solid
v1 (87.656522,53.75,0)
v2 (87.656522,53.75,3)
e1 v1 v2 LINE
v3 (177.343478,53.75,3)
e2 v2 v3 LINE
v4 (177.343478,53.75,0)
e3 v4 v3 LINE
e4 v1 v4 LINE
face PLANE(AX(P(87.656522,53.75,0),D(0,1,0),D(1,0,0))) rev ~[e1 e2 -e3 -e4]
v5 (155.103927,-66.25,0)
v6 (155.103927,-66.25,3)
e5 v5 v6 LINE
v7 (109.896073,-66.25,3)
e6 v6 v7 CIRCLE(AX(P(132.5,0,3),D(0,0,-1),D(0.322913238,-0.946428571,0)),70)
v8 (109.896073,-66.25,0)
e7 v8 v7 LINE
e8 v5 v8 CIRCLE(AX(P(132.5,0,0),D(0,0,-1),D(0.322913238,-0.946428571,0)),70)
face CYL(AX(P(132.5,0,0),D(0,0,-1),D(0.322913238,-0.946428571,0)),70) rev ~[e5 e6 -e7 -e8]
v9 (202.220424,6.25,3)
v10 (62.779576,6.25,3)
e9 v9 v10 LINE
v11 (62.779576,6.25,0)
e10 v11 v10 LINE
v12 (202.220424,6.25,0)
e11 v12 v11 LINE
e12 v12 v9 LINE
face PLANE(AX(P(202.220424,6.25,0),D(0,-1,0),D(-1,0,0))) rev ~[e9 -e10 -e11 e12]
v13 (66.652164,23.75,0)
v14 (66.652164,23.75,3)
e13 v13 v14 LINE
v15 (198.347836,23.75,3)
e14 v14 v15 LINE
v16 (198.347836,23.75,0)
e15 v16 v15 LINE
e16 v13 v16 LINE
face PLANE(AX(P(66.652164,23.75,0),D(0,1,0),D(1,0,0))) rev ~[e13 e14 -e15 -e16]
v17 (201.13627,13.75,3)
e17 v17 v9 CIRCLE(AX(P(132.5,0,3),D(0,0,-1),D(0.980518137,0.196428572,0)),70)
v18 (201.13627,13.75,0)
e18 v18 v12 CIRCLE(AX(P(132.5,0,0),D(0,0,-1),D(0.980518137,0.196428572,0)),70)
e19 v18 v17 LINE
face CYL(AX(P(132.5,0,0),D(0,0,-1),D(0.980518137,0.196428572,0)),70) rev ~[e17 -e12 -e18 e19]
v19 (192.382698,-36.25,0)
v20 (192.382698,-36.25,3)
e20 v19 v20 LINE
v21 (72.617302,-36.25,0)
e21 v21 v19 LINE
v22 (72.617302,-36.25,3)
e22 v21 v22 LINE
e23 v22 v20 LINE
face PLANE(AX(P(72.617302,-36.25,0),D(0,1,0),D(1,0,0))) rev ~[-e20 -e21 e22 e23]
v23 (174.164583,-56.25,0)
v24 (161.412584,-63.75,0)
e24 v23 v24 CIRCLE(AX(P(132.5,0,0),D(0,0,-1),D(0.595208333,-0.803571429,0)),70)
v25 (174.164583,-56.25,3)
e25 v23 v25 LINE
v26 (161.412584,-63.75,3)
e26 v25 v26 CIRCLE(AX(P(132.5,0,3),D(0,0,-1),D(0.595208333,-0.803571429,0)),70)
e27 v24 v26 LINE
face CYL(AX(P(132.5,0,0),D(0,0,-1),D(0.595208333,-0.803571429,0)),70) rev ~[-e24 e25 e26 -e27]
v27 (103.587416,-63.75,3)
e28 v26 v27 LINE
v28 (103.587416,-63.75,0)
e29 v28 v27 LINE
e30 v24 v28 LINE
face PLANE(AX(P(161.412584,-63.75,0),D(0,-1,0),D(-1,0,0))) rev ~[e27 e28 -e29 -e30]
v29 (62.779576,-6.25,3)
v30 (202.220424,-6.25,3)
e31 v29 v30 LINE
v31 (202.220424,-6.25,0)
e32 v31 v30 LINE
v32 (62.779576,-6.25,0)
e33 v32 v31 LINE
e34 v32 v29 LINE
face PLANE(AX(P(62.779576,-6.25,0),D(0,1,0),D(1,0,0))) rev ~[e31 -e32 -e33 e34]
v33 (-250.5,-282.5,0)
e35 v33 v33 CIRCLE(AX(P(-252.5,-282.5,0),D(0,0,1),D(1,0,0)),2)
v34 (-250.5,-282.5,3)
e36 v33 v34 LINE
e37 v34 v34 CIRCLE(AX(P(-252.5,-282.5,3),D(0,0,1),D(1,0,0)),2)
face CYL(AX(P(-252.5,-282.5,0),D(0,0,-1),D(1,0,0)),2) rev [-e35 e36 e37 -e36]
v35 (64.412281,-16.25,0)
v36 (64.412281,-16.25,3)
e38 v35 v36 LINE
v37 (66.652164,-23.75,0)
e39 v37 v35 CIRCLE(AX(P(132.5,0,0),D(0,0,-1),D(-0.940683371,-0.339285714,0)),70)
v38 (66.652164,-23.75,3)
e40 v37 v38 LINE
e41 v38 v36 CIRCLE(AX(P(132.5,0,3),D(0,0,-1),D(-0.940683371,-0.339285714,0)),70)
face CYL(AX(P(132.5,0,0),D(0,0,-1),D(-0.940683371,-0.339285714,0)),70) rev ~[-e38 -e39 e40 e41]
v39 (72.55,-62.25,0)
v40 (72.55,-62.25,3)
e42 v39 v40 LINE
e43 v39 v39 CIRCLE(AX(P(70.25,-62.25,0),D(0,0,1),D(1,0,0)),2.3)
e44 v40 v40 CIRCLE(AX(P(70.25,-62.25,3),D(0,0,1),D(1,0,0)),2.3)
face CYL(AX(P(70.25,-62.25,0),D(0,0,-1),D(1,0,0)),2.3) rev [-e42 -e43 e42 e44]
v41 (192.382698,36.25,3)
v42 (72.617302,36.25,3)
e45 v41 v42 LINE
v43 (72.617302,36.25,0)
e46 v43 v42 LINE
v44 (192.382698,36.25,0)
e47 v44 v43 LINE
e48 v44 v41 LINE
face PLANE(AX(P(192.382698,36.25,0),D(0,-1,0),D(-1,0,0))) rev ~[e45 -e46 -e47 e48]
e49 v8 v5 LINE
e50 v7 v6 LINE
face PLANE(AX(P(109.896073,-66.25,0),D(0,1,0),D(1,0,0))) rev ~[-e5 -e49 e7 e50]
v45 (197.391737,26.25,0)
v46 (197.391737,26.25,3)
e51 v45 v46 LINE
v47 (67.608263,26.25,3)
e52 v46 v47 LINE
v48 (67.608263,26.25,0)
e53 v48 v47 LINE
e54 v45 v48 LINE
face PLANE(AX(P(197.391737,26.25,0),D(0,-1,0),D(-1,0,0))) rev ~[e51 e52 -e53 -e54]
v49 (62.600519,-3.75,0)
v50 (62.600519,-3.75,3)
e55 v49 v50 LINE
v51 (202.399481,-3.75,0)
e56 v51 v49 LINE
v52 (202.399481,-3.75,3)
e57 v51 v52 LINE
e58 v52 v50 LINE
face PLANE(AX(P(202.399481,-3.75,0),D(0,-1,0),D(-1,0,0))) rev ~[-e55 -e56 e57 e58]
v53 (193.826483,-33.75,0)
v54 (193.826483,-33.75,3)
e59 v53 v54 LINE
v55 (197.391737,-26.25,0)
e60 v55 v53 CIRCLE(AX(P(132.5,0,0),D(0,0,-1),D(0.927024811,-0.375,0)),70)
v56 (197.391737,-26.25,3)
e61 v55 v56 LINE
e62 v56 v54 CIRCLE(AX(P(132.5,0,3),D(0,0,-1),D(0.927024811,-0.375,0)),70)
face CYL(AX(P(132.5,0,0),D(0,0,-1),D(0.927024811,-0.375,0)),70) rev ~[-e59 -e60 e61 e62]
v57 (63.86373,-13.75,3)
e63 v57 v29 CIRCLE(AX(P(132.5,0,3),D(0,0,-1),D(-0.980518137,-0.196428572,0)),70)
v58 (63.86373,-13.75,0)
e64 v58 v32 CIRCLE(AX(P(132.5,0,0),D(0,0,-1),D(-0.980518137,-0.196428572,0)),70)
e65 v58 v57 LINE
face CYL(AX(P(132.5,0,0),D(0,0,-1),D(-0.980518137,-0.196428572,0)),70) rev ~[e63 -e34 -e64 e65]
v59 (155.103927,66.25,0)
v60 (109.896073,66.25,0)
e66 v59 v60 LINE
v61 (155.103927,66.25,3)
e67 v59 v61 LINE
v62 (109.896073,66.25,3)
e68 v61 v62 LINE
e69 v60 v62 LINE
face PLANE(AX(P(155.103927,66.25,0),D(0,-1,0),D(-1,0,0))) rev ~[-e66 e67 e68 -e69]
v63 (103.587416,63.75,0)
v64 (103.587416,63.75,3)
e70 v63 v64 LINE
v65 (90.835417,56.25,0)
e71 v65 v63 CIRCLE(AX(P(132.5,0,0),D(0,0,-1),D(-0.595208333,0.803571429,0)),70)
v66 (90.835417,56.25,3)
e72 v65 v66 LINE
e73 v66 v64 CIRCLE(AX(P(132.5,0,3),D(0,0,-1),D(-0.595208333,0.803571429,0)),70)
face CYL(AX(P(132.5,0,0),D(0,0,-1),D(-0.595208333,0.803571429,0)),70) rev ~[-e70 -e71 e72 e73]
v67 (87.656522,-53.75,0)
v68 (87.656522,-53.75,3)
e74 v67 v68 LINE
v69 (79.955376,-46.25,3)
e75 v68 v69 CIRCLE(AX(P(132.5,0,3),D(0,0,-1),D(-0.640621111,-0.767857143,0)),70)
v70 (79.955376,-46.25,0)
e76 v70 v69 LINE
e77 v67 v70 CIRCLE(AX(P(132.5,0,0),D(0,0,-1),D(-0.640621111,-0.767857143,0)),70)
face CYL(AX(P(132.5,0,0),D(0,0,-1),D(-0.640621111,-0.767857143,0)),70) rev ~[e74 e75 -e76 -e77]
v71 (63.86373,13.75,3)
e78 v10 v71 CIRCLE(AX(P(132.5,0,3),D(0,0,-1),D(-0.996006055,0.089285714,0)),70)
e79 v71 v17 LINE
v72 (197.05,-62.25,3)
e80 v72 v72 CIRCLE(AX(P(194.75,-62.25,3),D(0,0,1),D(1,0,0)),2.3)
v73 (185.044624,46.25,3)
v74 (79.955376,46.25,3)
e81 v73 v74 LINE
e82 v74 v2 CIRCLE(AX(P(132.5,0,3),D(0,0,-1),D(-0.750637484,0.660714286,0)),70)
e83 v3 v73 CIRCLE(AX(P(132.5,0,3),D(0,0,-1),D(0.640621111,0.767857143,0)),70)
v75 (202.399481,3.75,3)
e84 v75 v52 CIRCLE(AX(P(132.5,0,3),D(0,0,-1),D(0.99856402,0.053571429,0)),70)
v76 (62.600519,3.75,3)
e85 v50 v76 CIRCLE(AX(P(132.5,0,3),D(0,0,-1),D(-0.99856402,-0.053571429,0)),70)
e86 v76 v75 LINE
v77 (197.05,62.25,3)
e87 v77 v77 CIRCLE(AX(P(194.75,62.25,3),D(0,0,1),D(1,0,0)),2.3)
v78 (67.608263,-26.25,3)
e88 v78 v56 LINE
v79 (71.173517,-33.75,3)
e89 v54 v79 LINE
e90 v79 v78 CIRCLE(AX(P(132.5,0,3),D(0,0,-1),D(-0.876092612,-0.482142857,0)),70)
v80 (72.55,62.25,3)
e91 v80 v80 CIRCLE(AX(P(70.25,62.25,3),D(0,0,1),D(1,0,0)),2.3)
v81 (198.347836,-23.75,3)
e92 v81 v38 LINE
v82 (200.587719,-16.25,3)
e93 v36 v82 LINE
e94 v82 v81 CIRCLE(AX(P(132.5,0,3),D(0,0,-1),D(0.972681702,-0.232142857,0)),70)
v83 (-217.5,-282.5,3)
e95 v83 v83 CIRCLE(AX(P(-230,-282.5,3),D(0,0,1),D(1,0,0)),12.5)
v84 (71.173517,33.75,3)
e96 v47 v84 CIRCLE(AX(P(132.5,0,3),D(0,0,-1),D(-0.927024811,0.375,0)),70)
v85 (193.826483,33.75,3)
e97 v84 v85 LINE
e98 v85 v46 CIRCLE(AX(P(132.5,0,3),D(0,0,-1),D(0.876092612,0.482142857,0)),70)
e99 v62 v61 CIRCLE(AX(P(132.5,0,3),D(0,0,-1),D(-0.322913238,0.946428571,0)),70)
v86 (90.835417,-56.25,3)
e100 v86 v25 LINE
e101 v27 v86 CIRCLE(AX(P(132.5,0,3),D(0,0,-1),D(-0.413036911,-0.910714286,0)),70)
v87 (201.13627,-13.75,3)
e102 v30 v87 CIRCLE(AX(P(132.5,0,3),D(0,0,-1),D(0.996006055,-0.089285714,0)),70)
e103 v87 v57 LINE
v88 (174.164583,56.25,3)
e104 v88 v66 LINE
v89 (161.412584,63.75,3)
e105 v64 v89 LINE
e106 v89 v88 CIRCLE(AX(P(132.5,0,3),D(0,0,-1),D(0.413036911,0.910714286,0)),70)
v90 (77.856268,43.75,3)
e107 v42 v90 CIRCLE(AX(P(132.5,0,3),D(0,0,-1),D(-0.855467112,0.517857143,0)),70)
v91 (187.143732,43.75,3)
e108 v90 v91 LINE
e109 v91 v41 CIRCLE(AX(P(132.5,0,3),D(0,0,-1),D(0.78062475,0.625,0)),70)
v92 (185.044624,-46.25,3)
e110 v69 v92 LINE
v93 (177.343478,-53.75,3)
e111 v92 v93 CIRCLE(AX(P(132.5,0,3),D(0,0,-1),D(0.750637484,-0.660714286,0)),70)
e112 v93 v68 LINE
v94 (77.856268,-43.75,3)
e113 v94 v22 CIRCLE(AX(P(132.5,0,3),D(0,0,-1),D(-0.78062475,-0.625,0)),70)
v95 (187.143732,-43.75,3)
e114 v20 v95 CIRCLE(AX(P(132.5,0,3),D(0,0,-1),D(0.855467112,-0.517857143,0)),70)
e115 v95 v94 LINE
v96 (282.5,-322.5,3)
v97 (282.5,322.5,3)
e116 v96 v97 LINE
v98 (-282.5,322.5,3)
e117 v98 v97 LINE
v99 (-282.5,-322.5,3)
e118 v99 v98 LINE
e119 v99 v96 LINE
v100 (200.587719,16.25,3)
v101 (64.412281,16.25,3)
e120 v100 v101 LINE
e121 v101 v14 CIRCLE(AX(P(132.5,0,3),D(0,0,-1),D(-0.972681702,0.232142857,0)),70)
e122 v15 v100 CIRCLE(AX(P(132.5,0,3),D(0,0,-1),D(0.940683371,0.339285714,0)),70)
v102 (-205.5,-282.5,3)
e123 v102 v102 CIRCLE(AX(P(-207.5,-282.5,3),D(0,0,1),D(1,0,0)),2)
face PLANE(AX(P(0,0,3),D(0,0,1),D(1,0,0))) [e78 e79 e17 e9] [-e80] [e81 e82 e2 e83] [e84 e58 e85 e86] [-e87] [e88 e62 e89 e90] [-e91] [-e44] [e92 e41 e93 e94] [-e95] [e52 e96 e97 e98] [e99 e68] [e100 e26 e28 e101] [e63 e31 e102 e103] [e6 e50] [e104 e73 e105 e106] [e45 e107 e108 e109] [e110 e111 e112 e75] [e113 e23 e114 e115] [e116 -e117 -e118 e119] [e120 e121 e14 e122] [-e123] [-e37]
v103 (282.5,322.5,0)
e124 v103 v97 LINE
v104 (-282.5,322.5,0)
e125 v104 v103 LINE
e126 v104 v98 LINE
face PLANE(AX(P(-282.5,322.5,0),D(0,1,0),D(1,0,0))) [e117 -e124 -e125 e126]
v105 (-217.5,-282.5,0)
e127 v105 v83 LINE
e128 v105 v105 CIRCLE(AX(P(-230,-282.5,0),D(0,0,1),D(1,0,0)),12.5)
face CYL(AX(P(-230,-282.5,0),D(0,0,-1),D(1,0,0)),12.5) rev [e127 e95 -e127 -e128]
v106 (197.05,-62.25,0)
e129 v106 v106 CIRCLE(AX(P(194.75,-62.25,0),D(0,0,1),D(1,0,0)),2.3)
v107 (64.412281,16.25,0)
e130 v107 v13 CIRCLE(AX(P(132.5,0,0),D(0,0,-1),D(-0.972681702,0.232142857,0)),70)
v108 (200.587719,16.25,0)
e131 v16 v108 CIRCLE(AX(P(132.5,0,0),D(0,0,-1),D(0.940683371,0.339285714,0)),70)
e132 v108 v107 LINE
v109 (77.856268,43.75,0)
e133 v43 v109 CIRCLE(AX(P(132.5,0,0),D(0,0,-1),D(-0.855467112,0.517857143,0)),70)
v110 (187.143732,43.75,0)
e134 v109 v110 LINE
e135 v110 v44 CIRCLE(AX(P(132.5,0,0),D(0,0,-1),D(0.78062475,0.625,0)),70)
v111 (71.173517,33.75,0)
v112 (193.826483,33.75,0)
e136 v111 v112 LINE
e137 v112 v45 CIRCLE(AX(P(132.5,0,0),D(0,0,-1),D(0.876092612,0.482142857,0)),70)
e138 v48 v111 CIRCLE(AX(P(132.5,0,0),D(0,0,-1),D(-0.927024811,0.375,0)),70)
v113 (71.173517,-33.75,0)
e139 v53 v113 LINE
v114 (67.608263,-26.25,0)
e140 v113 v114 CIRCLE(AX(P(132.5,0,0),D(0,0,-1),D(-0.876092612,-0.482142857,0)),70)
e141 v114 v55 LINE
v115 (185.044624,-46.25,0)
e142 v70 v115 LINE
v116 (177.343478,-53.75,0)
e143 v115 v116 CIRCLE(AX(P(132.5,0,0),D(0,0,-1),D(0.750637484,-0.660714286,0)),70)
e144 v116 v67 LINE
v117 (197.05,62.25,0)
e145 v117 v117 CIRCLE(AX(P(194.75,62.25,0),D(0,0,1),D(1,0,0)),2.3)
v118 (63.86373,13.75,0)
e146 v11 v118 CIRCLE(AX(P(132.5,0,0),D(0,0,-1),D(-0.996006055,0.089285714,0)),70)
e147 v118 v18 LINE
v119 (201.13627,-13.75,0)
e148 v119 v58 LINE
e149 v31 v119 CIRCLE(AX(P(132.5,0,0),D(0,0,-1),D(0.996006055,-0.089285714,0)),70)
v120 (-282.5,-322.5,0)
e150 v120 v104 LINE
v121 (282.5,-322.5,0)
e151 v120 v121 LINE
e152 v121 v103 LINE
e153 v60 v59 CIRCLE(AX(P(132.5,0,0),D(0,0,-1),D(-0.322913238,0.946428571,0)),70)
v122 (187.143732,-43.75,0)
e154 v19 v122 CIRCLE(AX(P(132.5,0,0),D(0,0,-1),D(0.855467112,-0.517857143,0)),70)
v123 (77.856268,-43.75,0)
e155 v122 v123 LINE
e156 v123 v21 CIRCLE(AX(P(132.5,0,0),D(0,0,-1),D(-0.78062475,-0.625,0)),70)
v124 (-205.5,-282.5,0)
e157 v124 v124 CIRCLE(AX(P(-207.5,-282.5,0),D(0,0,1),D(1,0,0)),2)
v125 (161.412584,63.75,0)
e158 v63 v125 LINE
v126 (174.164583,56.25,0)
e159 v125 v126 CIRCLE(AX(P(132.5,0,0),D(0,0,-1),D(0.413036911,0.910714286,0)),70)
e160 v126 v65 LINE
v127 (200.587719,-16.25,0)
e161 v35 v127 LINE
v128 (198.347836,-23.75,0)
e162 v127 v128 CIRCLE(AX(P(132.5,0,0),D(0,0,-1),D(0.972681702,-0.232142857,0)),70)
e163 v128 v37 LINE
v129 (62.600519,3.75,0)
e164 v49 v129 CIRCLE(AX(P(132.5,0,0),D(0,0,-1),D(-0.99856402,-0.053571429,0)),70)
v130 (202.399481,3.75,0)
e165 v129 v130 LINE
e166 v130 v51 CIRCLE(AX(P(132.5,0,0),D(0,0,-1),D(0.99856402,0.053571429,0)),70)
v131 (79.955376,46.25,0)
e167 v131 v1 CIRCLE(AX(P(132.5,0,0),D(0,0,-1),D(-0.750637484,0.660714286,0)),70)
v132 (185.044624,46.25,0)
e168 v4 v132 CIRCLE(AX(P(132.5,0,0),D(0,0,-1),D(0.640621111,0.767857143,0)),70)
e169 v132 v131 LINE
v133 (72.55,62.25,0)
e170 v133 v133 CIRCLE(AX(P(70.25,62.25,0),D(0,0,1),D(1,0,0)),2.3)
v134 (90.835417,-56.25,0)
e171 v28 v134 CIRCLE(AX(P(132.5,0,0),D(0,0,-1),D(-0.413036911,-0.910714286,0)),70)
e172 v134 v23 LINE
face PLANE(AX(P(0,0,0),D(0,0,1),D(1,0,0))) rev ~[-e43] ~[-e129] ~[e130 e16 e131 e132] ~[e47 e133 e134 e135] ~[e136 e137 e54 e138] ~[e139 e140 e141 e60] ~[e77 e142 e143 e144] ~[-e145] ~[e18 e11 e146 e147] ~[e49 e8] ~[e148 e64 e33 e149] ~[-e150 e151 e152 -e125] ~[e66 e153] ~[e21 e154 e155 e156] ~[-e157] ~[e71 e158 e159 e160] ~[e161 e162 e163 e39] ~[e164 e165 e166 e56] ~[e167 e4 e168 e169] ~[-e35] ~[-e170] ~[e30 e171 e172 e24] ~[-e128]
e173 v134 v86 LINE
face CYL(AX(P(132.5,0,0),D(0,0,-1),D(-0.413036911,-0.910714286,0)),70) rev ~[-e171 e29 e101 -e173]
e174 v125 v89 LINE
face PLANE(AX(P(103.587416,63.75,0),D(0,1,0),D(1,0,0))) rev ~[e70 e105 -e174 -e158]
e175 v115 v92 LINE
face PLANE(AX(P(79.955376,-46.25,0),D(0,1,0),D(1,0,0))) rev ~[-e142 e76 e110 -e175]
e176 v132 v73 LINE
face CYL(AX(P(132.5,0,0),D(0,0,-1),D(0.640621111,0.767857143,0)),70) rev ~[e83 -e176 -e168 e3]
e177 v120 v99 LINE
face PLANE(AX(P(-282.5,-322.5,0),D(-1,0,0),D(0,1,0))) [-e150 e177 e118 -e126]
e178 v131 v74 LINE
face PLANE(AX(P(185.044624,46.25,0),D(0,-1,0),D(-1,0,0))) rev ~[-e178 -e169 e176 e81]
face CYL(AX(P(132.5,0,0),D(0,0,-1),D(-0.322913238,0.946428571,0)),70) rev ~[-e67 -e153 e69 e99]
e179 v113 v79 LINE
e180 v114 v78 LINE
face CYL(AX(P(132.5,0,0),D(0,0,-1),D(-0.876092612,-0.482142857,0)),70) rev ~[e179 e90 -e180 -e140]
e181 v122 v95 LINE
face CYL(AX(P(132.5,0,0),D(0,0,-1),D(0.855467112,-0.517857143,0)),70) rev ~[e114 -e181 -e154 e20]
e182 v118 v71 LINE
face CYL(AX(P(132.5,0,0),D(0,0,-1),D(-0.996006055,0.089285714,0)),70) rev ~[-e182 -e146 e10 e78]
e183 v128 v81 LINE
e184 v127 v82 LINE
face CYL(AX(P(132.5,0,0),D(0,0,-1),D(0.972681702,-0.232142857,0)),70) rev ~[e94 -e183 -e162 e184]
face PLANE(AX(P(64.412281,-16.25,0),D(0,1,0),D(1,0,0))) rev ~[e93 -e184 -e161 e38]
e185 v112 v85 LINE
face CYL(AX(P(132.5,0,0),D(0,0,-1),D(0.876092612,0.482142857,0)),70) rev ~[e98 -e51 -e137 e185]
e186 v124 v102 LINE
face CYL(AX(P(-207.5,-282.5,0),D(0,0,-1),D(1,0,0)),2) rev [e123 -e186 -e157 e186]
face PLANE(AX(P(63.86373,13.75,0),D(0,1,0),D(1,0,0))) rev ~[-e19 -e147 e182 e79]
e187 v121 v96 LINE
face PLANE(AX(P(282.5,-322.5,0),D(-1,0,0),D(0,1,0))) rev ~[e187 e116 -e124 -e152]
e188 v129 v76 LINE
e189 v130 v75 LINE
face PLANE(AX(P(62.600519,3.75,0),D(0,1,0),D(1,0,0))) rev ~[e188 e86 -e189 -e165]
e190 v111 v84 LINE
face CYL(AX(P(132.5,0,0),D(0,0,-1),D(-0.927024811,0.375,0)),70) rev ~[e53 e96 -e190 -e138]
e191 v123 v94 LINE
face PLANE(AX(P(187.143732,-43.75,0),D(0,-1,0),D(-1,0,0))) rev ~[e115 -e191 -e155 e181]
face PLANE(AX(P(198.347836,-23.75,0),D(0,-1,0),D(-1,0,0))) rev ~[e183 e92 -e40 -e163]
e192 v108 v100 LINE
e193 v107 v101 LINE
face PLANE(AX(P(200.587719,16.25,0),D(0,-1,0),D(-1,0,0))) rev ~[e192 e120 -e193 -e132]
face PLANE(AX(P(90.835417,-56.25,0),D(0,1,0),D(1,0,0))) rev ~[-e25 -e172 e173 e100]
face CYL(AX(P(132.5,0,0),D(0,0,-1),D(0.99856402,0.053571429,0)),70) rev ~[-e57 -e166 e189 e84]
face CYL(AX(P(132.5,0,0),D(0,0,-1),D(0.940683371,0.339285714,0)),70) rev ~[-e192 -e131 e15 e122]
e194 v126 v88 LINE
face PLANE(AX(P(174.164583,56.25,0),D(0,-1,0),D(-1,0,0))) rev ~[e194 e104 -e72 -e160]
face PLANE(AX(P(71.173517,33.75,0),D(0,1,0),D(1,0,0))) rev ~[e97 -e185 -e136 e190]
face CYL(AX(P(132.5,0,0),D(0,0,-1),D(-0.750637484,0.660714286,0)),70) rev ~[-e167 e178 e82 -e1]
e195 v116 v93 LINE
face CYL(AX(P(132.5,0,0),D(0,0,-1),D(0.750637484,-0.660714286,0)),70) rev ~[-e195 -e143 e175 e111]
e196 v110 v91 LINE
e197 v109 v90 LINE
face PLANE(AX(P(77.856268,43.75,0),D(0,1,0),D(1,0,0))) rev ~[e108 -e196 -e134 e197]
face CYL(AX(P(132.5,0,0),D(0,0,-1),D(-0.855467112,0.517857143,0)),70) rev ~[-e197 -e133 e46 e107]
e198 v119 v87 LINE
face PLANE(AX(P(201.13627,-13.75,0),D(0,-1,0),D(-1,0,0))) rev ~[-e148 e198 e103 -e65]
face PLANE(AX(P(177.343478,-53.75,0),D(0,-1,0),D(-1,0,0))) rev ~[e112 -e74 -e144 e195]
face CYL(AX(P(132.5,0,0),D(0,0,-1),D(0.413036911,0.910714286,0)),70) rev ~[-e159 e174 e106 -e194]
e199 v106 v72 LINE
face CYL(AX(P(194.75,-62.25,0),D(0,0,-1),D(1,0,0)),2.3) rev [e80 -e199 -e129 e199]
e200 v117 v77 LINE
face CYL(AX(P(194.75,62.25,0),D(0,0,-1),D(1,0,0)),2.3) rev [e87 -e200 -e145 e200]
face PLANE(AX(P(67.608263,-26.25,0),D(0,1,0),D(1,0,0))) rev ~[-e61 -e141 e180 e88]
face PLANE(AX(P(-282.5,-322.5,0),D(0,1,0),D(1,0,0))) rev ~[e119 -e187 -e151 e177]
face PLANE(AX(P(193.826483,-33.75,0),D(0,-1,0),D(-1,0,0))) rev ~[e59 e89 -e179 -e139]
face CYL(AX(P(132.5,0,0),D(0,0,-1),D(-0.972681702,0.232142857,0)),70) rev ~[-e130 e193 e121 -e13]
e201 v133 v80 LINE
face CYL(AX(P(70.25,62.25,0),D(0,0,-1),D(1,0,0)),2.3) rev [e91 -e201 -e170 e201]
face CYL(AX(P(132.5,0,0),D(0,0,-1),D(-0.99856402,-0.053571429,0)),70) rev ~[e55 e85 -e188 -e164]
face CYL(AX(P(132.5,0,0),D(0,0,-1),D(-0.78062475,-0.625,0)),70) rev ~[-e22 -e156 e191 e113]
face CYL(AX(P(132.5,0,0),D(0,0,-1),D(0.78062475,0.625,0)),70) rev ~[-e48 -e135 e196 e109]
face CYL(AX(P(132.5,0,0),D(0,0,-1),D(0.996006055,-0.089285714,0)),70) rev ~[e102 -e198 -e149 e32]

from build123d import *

# Parameters (mm, degrees)
SKICA1_W                = 565
SKICA1_H                = 645
SKICA1_R                = 2
SKICA1_R_2              = 12.5
SKICA1_R_3              = 2.3
P_IDAT_VYSUNUT_M1_DEPTH = 3


with BuildPart() as part:
    # Skica1 → Přidat vysunutím1 (new body)
    with BuildSketch(Plane.XY):
        Rectangle(SKICA1_W, SKICA1_H)
        with BuildLine():
            Line((177.343477787, -53.75), (87.656522213, -53.75))
            ThreePointArc((87.656522213, -53.75), (83.661766134, -50.148049941), (79.955376108, -46.25))
            Line((79.955376108, -46.25), (185.044623892, -46.25))
            ThreePointArc((185.044623892, -46.25), (181.338233866, -50.148049941), (177.343477787, -53.75))
        make_face(mode=Mode.SUBTRACT)
        with BuildLine():
            Line((90.835416719, -56.25), (174.164583281, -56.25))
            ThreePointArc((174.164583281, -56.25), (167.987274157, -60.337827048), (161.412583766, -63.75))
            Line((161.412583766, -63.75), (103.587416234, -63.75))
            ThreePointArc((103.587416234, -63.75), (97.012725843, -60.337827048), (90.835416719, -56.25))
        make_face(mode=Mode.SUBTRACT)
        with Locations((-252.5, -282.5)):
            Circle(SKICA1_R, mode=Mode.SUBTRACT)
        with Locations((-230, -282.5)):
            Circle(SKICA1_R_2, mode=Mode.SUBTRACT)
        with Locations((-207.5, -282.5)):
            Circle(SKICA1_R, mode=Mode.SUBTRACT)
        with BuildLine():
            ThreePointArc((192.382697835, -36.25), (189.885872046, -40.085679357), (187.143732486, -43.75))
            Line((187.143732486, -43.75), (77.856267514, -43.75))
            ThreePointArc((77.856267514, -43.75), (75.114127954, -40.085679357), (72.617302165, -36.25))
            Line((72.617302165, -36.25), (192.382697835, -36.25))
        make_face(mode=Mode.SUBTRACT)
        with BuildLine():
            ThreePointArc((197.391736762, -26.25), (195.720425822, -30.052915979), (193.82648286, -33.75))
            Line((193.82648286, -33.75), (71.17351714, -33.75))
            ThreePointArc((71.17351714, -33.75), (69.279574178, -30.052915979), (67.608263238, -26.25))
            Line((67.608263238, -26.25), (197.391736762, -26.25))
        make_face(mode=Mode.SUBTRACT)
        with BuildLine():
            ThreePointArc((200.587719157, -16.25), (199.572689903, -20.031332187), (198.347835955, -23.75))
            Line((198.347835955, -23.75), (66.652164045, -23.75))
            ThreePointArc((66.652164045, -23.75), (65.427310097, -20.031332187), (64.412280843, -16.25))
            Line((64.412280843, -16.25), (200.587719157, -16.25))
        make_face(mode=Mode.SUBTRACT)
        with BuildLine():
            ThreePointArc((202.220423837, -6.25), (201.779911608, -10.014681604), (201.136269566, -13.75))
            Line((201.136269566, -13.75), (63.863730434, -13.75))
            ThreePointArc((63.863730434, -13.75), (63.220088392, -10.014681604), (62.779576163, -6.25))
            Line((62.779576163, -6.25), (202.220423837, -6.25))
        make_face(mode=Mode.SUBTRACT)
        with BuildLine():
            Line((202.3994814, -3.75), (62.6005186, -3.75))
            ThreePointArc((62.6005186, -3.75), (62.5, 0), (62.6005186, 3.75))
            Line((62.6005186, 3.75), (202.3994814, 3.75))
            ThreePointArc((202.3994814, 3.75), (202.5, 0), (202.3994814, -3.75))
        make_face(mode=Mode.SUBTRACT)
        with BuildLine():
            ThreePointArc((201.136269566, 13.75), (201.779911608, 10.014681604), (202.220423837, 6.25))
            Line((202.220423837, 6.25), (62.779576163, 6.25))
            ThreePointArc((62.779576163, 6.25), (63.220088392, 10.014681604), (63.863730434, 13.75))
            Line((63.863730434, 13.75), (201.136269566, 13.75))
        make_face(mode=Mode.SUBTRACT)
        with BuildLine():
            ThreePointArc((198.347835955, 23.75), (199.572689903, 20.031332187), (200.587719157, 16.25))
            Line((200.587719157, 16.25), (64.412280843, 16.25))
            ThreePointArc((64.412280843, 16.25), (65.427310097, 20.031332187), (66.652164045, 23.75))
            Line((66.652164045, 23.75), (198.347835955, 23.75))
        make_face(mode=Mode.SUBTRACT)
        with BuildLine():
            ThreePointArc((193.82648286, 33.75), (195.720425822, 30.052915979), (197.391736762, 26.25))
            Line((197.391736762, 26.25), (67.608263238, 26.25))
            ThreePointArc((67.608263238, 26.25), (69.279574178, 30.052915979), (71.17351714, 33.75))
            Line((71.17351714, 33.75), (193.82648286, 33.75))
        make_face(mode=Mode.SUBTRACT)
        with BuildLine():
            ThreePointArc((187.143732486, 43.75), (189.885872046, 40.085679357), (192.382697835, 36.25))
            Line((192.382697835, 36.25), (72.617302165, 36.25))
            ThreePointArc((72.617302165, 36.25), (75.114127954, 40.085679357), (77.856267514, 43.75))
            Line((77.856267514, 43.75), (187.143732486, 43.75))
        make_face(mode=Mode.SUBTRACT)
        with BuildLine():
            ThreePointArc((177.343477787, 53.75), (181.338233866, 50.148049941), (185.044623892, 46.25))
            Line((185.044623892, 46.25), (79.955376108, 46.25))
            ThreePointArc((79.955376108, 46.25), (83.661766134, 50.148049941), (87.656522213, 53.75))
            Line((87.656522213, 53.75), (177.343477787, 53.75))
        make_face(mode=Mode.SUBTRACT)
        with BuildLine():
            ThreePointArc((161.412583766, 63.75), (167.987274157, 60.337827048), (174.164583281, 56.25))
            Line((174.164583281, 56.25), (90.835416719, 56.25))
            ThreePointArc((90.835416719, 56.25), (97.012725843, 60.337827048), (103.587416234, 63.75))
            Line((103.587416234, 63.75), (161.412583766, 63.75))
        make_face(mode=Mode.SUBTRACT)
        with Locations((194.75, 62.25)):
            Circle(SKICA1_R_3, mode=Mode.SUBTRACT)
        with BuildLine():
            ThreePointArc((109.89607335, 66.25), (132.5, 70), (155.10392665, 66.25))
            Line((155.10392665, 66.25), (109.89607335, 66.25))
        make_face(mode=Mode.SUBTRACT)
        with Locations((70.25, 62.25)):
            Circle(SKICA1_R_3, mode=Mode.SUBTRACT)
        with Locations((194.75, -62.25)):
            Circle(SKICA1_R_3, mode=Mode.SUBTRACT)
        with Locations((70.25, -62.25)):
            Circle(SKICA1_R_3, mode=Mode.SUBTRACT)
        with BuildLine():
            ThreePointArc((155.10392665, -66.25), (132.5, -70), (109.89607335, -66.25))
            Line((109.89607335, -66.25), (155.10392665, -66.25))
        make_face(mode=Mode.SUBTRACT)
    extrude(amount=P_IDAT_VYSUNUT_M1_DEPTH)


solid = part.part
